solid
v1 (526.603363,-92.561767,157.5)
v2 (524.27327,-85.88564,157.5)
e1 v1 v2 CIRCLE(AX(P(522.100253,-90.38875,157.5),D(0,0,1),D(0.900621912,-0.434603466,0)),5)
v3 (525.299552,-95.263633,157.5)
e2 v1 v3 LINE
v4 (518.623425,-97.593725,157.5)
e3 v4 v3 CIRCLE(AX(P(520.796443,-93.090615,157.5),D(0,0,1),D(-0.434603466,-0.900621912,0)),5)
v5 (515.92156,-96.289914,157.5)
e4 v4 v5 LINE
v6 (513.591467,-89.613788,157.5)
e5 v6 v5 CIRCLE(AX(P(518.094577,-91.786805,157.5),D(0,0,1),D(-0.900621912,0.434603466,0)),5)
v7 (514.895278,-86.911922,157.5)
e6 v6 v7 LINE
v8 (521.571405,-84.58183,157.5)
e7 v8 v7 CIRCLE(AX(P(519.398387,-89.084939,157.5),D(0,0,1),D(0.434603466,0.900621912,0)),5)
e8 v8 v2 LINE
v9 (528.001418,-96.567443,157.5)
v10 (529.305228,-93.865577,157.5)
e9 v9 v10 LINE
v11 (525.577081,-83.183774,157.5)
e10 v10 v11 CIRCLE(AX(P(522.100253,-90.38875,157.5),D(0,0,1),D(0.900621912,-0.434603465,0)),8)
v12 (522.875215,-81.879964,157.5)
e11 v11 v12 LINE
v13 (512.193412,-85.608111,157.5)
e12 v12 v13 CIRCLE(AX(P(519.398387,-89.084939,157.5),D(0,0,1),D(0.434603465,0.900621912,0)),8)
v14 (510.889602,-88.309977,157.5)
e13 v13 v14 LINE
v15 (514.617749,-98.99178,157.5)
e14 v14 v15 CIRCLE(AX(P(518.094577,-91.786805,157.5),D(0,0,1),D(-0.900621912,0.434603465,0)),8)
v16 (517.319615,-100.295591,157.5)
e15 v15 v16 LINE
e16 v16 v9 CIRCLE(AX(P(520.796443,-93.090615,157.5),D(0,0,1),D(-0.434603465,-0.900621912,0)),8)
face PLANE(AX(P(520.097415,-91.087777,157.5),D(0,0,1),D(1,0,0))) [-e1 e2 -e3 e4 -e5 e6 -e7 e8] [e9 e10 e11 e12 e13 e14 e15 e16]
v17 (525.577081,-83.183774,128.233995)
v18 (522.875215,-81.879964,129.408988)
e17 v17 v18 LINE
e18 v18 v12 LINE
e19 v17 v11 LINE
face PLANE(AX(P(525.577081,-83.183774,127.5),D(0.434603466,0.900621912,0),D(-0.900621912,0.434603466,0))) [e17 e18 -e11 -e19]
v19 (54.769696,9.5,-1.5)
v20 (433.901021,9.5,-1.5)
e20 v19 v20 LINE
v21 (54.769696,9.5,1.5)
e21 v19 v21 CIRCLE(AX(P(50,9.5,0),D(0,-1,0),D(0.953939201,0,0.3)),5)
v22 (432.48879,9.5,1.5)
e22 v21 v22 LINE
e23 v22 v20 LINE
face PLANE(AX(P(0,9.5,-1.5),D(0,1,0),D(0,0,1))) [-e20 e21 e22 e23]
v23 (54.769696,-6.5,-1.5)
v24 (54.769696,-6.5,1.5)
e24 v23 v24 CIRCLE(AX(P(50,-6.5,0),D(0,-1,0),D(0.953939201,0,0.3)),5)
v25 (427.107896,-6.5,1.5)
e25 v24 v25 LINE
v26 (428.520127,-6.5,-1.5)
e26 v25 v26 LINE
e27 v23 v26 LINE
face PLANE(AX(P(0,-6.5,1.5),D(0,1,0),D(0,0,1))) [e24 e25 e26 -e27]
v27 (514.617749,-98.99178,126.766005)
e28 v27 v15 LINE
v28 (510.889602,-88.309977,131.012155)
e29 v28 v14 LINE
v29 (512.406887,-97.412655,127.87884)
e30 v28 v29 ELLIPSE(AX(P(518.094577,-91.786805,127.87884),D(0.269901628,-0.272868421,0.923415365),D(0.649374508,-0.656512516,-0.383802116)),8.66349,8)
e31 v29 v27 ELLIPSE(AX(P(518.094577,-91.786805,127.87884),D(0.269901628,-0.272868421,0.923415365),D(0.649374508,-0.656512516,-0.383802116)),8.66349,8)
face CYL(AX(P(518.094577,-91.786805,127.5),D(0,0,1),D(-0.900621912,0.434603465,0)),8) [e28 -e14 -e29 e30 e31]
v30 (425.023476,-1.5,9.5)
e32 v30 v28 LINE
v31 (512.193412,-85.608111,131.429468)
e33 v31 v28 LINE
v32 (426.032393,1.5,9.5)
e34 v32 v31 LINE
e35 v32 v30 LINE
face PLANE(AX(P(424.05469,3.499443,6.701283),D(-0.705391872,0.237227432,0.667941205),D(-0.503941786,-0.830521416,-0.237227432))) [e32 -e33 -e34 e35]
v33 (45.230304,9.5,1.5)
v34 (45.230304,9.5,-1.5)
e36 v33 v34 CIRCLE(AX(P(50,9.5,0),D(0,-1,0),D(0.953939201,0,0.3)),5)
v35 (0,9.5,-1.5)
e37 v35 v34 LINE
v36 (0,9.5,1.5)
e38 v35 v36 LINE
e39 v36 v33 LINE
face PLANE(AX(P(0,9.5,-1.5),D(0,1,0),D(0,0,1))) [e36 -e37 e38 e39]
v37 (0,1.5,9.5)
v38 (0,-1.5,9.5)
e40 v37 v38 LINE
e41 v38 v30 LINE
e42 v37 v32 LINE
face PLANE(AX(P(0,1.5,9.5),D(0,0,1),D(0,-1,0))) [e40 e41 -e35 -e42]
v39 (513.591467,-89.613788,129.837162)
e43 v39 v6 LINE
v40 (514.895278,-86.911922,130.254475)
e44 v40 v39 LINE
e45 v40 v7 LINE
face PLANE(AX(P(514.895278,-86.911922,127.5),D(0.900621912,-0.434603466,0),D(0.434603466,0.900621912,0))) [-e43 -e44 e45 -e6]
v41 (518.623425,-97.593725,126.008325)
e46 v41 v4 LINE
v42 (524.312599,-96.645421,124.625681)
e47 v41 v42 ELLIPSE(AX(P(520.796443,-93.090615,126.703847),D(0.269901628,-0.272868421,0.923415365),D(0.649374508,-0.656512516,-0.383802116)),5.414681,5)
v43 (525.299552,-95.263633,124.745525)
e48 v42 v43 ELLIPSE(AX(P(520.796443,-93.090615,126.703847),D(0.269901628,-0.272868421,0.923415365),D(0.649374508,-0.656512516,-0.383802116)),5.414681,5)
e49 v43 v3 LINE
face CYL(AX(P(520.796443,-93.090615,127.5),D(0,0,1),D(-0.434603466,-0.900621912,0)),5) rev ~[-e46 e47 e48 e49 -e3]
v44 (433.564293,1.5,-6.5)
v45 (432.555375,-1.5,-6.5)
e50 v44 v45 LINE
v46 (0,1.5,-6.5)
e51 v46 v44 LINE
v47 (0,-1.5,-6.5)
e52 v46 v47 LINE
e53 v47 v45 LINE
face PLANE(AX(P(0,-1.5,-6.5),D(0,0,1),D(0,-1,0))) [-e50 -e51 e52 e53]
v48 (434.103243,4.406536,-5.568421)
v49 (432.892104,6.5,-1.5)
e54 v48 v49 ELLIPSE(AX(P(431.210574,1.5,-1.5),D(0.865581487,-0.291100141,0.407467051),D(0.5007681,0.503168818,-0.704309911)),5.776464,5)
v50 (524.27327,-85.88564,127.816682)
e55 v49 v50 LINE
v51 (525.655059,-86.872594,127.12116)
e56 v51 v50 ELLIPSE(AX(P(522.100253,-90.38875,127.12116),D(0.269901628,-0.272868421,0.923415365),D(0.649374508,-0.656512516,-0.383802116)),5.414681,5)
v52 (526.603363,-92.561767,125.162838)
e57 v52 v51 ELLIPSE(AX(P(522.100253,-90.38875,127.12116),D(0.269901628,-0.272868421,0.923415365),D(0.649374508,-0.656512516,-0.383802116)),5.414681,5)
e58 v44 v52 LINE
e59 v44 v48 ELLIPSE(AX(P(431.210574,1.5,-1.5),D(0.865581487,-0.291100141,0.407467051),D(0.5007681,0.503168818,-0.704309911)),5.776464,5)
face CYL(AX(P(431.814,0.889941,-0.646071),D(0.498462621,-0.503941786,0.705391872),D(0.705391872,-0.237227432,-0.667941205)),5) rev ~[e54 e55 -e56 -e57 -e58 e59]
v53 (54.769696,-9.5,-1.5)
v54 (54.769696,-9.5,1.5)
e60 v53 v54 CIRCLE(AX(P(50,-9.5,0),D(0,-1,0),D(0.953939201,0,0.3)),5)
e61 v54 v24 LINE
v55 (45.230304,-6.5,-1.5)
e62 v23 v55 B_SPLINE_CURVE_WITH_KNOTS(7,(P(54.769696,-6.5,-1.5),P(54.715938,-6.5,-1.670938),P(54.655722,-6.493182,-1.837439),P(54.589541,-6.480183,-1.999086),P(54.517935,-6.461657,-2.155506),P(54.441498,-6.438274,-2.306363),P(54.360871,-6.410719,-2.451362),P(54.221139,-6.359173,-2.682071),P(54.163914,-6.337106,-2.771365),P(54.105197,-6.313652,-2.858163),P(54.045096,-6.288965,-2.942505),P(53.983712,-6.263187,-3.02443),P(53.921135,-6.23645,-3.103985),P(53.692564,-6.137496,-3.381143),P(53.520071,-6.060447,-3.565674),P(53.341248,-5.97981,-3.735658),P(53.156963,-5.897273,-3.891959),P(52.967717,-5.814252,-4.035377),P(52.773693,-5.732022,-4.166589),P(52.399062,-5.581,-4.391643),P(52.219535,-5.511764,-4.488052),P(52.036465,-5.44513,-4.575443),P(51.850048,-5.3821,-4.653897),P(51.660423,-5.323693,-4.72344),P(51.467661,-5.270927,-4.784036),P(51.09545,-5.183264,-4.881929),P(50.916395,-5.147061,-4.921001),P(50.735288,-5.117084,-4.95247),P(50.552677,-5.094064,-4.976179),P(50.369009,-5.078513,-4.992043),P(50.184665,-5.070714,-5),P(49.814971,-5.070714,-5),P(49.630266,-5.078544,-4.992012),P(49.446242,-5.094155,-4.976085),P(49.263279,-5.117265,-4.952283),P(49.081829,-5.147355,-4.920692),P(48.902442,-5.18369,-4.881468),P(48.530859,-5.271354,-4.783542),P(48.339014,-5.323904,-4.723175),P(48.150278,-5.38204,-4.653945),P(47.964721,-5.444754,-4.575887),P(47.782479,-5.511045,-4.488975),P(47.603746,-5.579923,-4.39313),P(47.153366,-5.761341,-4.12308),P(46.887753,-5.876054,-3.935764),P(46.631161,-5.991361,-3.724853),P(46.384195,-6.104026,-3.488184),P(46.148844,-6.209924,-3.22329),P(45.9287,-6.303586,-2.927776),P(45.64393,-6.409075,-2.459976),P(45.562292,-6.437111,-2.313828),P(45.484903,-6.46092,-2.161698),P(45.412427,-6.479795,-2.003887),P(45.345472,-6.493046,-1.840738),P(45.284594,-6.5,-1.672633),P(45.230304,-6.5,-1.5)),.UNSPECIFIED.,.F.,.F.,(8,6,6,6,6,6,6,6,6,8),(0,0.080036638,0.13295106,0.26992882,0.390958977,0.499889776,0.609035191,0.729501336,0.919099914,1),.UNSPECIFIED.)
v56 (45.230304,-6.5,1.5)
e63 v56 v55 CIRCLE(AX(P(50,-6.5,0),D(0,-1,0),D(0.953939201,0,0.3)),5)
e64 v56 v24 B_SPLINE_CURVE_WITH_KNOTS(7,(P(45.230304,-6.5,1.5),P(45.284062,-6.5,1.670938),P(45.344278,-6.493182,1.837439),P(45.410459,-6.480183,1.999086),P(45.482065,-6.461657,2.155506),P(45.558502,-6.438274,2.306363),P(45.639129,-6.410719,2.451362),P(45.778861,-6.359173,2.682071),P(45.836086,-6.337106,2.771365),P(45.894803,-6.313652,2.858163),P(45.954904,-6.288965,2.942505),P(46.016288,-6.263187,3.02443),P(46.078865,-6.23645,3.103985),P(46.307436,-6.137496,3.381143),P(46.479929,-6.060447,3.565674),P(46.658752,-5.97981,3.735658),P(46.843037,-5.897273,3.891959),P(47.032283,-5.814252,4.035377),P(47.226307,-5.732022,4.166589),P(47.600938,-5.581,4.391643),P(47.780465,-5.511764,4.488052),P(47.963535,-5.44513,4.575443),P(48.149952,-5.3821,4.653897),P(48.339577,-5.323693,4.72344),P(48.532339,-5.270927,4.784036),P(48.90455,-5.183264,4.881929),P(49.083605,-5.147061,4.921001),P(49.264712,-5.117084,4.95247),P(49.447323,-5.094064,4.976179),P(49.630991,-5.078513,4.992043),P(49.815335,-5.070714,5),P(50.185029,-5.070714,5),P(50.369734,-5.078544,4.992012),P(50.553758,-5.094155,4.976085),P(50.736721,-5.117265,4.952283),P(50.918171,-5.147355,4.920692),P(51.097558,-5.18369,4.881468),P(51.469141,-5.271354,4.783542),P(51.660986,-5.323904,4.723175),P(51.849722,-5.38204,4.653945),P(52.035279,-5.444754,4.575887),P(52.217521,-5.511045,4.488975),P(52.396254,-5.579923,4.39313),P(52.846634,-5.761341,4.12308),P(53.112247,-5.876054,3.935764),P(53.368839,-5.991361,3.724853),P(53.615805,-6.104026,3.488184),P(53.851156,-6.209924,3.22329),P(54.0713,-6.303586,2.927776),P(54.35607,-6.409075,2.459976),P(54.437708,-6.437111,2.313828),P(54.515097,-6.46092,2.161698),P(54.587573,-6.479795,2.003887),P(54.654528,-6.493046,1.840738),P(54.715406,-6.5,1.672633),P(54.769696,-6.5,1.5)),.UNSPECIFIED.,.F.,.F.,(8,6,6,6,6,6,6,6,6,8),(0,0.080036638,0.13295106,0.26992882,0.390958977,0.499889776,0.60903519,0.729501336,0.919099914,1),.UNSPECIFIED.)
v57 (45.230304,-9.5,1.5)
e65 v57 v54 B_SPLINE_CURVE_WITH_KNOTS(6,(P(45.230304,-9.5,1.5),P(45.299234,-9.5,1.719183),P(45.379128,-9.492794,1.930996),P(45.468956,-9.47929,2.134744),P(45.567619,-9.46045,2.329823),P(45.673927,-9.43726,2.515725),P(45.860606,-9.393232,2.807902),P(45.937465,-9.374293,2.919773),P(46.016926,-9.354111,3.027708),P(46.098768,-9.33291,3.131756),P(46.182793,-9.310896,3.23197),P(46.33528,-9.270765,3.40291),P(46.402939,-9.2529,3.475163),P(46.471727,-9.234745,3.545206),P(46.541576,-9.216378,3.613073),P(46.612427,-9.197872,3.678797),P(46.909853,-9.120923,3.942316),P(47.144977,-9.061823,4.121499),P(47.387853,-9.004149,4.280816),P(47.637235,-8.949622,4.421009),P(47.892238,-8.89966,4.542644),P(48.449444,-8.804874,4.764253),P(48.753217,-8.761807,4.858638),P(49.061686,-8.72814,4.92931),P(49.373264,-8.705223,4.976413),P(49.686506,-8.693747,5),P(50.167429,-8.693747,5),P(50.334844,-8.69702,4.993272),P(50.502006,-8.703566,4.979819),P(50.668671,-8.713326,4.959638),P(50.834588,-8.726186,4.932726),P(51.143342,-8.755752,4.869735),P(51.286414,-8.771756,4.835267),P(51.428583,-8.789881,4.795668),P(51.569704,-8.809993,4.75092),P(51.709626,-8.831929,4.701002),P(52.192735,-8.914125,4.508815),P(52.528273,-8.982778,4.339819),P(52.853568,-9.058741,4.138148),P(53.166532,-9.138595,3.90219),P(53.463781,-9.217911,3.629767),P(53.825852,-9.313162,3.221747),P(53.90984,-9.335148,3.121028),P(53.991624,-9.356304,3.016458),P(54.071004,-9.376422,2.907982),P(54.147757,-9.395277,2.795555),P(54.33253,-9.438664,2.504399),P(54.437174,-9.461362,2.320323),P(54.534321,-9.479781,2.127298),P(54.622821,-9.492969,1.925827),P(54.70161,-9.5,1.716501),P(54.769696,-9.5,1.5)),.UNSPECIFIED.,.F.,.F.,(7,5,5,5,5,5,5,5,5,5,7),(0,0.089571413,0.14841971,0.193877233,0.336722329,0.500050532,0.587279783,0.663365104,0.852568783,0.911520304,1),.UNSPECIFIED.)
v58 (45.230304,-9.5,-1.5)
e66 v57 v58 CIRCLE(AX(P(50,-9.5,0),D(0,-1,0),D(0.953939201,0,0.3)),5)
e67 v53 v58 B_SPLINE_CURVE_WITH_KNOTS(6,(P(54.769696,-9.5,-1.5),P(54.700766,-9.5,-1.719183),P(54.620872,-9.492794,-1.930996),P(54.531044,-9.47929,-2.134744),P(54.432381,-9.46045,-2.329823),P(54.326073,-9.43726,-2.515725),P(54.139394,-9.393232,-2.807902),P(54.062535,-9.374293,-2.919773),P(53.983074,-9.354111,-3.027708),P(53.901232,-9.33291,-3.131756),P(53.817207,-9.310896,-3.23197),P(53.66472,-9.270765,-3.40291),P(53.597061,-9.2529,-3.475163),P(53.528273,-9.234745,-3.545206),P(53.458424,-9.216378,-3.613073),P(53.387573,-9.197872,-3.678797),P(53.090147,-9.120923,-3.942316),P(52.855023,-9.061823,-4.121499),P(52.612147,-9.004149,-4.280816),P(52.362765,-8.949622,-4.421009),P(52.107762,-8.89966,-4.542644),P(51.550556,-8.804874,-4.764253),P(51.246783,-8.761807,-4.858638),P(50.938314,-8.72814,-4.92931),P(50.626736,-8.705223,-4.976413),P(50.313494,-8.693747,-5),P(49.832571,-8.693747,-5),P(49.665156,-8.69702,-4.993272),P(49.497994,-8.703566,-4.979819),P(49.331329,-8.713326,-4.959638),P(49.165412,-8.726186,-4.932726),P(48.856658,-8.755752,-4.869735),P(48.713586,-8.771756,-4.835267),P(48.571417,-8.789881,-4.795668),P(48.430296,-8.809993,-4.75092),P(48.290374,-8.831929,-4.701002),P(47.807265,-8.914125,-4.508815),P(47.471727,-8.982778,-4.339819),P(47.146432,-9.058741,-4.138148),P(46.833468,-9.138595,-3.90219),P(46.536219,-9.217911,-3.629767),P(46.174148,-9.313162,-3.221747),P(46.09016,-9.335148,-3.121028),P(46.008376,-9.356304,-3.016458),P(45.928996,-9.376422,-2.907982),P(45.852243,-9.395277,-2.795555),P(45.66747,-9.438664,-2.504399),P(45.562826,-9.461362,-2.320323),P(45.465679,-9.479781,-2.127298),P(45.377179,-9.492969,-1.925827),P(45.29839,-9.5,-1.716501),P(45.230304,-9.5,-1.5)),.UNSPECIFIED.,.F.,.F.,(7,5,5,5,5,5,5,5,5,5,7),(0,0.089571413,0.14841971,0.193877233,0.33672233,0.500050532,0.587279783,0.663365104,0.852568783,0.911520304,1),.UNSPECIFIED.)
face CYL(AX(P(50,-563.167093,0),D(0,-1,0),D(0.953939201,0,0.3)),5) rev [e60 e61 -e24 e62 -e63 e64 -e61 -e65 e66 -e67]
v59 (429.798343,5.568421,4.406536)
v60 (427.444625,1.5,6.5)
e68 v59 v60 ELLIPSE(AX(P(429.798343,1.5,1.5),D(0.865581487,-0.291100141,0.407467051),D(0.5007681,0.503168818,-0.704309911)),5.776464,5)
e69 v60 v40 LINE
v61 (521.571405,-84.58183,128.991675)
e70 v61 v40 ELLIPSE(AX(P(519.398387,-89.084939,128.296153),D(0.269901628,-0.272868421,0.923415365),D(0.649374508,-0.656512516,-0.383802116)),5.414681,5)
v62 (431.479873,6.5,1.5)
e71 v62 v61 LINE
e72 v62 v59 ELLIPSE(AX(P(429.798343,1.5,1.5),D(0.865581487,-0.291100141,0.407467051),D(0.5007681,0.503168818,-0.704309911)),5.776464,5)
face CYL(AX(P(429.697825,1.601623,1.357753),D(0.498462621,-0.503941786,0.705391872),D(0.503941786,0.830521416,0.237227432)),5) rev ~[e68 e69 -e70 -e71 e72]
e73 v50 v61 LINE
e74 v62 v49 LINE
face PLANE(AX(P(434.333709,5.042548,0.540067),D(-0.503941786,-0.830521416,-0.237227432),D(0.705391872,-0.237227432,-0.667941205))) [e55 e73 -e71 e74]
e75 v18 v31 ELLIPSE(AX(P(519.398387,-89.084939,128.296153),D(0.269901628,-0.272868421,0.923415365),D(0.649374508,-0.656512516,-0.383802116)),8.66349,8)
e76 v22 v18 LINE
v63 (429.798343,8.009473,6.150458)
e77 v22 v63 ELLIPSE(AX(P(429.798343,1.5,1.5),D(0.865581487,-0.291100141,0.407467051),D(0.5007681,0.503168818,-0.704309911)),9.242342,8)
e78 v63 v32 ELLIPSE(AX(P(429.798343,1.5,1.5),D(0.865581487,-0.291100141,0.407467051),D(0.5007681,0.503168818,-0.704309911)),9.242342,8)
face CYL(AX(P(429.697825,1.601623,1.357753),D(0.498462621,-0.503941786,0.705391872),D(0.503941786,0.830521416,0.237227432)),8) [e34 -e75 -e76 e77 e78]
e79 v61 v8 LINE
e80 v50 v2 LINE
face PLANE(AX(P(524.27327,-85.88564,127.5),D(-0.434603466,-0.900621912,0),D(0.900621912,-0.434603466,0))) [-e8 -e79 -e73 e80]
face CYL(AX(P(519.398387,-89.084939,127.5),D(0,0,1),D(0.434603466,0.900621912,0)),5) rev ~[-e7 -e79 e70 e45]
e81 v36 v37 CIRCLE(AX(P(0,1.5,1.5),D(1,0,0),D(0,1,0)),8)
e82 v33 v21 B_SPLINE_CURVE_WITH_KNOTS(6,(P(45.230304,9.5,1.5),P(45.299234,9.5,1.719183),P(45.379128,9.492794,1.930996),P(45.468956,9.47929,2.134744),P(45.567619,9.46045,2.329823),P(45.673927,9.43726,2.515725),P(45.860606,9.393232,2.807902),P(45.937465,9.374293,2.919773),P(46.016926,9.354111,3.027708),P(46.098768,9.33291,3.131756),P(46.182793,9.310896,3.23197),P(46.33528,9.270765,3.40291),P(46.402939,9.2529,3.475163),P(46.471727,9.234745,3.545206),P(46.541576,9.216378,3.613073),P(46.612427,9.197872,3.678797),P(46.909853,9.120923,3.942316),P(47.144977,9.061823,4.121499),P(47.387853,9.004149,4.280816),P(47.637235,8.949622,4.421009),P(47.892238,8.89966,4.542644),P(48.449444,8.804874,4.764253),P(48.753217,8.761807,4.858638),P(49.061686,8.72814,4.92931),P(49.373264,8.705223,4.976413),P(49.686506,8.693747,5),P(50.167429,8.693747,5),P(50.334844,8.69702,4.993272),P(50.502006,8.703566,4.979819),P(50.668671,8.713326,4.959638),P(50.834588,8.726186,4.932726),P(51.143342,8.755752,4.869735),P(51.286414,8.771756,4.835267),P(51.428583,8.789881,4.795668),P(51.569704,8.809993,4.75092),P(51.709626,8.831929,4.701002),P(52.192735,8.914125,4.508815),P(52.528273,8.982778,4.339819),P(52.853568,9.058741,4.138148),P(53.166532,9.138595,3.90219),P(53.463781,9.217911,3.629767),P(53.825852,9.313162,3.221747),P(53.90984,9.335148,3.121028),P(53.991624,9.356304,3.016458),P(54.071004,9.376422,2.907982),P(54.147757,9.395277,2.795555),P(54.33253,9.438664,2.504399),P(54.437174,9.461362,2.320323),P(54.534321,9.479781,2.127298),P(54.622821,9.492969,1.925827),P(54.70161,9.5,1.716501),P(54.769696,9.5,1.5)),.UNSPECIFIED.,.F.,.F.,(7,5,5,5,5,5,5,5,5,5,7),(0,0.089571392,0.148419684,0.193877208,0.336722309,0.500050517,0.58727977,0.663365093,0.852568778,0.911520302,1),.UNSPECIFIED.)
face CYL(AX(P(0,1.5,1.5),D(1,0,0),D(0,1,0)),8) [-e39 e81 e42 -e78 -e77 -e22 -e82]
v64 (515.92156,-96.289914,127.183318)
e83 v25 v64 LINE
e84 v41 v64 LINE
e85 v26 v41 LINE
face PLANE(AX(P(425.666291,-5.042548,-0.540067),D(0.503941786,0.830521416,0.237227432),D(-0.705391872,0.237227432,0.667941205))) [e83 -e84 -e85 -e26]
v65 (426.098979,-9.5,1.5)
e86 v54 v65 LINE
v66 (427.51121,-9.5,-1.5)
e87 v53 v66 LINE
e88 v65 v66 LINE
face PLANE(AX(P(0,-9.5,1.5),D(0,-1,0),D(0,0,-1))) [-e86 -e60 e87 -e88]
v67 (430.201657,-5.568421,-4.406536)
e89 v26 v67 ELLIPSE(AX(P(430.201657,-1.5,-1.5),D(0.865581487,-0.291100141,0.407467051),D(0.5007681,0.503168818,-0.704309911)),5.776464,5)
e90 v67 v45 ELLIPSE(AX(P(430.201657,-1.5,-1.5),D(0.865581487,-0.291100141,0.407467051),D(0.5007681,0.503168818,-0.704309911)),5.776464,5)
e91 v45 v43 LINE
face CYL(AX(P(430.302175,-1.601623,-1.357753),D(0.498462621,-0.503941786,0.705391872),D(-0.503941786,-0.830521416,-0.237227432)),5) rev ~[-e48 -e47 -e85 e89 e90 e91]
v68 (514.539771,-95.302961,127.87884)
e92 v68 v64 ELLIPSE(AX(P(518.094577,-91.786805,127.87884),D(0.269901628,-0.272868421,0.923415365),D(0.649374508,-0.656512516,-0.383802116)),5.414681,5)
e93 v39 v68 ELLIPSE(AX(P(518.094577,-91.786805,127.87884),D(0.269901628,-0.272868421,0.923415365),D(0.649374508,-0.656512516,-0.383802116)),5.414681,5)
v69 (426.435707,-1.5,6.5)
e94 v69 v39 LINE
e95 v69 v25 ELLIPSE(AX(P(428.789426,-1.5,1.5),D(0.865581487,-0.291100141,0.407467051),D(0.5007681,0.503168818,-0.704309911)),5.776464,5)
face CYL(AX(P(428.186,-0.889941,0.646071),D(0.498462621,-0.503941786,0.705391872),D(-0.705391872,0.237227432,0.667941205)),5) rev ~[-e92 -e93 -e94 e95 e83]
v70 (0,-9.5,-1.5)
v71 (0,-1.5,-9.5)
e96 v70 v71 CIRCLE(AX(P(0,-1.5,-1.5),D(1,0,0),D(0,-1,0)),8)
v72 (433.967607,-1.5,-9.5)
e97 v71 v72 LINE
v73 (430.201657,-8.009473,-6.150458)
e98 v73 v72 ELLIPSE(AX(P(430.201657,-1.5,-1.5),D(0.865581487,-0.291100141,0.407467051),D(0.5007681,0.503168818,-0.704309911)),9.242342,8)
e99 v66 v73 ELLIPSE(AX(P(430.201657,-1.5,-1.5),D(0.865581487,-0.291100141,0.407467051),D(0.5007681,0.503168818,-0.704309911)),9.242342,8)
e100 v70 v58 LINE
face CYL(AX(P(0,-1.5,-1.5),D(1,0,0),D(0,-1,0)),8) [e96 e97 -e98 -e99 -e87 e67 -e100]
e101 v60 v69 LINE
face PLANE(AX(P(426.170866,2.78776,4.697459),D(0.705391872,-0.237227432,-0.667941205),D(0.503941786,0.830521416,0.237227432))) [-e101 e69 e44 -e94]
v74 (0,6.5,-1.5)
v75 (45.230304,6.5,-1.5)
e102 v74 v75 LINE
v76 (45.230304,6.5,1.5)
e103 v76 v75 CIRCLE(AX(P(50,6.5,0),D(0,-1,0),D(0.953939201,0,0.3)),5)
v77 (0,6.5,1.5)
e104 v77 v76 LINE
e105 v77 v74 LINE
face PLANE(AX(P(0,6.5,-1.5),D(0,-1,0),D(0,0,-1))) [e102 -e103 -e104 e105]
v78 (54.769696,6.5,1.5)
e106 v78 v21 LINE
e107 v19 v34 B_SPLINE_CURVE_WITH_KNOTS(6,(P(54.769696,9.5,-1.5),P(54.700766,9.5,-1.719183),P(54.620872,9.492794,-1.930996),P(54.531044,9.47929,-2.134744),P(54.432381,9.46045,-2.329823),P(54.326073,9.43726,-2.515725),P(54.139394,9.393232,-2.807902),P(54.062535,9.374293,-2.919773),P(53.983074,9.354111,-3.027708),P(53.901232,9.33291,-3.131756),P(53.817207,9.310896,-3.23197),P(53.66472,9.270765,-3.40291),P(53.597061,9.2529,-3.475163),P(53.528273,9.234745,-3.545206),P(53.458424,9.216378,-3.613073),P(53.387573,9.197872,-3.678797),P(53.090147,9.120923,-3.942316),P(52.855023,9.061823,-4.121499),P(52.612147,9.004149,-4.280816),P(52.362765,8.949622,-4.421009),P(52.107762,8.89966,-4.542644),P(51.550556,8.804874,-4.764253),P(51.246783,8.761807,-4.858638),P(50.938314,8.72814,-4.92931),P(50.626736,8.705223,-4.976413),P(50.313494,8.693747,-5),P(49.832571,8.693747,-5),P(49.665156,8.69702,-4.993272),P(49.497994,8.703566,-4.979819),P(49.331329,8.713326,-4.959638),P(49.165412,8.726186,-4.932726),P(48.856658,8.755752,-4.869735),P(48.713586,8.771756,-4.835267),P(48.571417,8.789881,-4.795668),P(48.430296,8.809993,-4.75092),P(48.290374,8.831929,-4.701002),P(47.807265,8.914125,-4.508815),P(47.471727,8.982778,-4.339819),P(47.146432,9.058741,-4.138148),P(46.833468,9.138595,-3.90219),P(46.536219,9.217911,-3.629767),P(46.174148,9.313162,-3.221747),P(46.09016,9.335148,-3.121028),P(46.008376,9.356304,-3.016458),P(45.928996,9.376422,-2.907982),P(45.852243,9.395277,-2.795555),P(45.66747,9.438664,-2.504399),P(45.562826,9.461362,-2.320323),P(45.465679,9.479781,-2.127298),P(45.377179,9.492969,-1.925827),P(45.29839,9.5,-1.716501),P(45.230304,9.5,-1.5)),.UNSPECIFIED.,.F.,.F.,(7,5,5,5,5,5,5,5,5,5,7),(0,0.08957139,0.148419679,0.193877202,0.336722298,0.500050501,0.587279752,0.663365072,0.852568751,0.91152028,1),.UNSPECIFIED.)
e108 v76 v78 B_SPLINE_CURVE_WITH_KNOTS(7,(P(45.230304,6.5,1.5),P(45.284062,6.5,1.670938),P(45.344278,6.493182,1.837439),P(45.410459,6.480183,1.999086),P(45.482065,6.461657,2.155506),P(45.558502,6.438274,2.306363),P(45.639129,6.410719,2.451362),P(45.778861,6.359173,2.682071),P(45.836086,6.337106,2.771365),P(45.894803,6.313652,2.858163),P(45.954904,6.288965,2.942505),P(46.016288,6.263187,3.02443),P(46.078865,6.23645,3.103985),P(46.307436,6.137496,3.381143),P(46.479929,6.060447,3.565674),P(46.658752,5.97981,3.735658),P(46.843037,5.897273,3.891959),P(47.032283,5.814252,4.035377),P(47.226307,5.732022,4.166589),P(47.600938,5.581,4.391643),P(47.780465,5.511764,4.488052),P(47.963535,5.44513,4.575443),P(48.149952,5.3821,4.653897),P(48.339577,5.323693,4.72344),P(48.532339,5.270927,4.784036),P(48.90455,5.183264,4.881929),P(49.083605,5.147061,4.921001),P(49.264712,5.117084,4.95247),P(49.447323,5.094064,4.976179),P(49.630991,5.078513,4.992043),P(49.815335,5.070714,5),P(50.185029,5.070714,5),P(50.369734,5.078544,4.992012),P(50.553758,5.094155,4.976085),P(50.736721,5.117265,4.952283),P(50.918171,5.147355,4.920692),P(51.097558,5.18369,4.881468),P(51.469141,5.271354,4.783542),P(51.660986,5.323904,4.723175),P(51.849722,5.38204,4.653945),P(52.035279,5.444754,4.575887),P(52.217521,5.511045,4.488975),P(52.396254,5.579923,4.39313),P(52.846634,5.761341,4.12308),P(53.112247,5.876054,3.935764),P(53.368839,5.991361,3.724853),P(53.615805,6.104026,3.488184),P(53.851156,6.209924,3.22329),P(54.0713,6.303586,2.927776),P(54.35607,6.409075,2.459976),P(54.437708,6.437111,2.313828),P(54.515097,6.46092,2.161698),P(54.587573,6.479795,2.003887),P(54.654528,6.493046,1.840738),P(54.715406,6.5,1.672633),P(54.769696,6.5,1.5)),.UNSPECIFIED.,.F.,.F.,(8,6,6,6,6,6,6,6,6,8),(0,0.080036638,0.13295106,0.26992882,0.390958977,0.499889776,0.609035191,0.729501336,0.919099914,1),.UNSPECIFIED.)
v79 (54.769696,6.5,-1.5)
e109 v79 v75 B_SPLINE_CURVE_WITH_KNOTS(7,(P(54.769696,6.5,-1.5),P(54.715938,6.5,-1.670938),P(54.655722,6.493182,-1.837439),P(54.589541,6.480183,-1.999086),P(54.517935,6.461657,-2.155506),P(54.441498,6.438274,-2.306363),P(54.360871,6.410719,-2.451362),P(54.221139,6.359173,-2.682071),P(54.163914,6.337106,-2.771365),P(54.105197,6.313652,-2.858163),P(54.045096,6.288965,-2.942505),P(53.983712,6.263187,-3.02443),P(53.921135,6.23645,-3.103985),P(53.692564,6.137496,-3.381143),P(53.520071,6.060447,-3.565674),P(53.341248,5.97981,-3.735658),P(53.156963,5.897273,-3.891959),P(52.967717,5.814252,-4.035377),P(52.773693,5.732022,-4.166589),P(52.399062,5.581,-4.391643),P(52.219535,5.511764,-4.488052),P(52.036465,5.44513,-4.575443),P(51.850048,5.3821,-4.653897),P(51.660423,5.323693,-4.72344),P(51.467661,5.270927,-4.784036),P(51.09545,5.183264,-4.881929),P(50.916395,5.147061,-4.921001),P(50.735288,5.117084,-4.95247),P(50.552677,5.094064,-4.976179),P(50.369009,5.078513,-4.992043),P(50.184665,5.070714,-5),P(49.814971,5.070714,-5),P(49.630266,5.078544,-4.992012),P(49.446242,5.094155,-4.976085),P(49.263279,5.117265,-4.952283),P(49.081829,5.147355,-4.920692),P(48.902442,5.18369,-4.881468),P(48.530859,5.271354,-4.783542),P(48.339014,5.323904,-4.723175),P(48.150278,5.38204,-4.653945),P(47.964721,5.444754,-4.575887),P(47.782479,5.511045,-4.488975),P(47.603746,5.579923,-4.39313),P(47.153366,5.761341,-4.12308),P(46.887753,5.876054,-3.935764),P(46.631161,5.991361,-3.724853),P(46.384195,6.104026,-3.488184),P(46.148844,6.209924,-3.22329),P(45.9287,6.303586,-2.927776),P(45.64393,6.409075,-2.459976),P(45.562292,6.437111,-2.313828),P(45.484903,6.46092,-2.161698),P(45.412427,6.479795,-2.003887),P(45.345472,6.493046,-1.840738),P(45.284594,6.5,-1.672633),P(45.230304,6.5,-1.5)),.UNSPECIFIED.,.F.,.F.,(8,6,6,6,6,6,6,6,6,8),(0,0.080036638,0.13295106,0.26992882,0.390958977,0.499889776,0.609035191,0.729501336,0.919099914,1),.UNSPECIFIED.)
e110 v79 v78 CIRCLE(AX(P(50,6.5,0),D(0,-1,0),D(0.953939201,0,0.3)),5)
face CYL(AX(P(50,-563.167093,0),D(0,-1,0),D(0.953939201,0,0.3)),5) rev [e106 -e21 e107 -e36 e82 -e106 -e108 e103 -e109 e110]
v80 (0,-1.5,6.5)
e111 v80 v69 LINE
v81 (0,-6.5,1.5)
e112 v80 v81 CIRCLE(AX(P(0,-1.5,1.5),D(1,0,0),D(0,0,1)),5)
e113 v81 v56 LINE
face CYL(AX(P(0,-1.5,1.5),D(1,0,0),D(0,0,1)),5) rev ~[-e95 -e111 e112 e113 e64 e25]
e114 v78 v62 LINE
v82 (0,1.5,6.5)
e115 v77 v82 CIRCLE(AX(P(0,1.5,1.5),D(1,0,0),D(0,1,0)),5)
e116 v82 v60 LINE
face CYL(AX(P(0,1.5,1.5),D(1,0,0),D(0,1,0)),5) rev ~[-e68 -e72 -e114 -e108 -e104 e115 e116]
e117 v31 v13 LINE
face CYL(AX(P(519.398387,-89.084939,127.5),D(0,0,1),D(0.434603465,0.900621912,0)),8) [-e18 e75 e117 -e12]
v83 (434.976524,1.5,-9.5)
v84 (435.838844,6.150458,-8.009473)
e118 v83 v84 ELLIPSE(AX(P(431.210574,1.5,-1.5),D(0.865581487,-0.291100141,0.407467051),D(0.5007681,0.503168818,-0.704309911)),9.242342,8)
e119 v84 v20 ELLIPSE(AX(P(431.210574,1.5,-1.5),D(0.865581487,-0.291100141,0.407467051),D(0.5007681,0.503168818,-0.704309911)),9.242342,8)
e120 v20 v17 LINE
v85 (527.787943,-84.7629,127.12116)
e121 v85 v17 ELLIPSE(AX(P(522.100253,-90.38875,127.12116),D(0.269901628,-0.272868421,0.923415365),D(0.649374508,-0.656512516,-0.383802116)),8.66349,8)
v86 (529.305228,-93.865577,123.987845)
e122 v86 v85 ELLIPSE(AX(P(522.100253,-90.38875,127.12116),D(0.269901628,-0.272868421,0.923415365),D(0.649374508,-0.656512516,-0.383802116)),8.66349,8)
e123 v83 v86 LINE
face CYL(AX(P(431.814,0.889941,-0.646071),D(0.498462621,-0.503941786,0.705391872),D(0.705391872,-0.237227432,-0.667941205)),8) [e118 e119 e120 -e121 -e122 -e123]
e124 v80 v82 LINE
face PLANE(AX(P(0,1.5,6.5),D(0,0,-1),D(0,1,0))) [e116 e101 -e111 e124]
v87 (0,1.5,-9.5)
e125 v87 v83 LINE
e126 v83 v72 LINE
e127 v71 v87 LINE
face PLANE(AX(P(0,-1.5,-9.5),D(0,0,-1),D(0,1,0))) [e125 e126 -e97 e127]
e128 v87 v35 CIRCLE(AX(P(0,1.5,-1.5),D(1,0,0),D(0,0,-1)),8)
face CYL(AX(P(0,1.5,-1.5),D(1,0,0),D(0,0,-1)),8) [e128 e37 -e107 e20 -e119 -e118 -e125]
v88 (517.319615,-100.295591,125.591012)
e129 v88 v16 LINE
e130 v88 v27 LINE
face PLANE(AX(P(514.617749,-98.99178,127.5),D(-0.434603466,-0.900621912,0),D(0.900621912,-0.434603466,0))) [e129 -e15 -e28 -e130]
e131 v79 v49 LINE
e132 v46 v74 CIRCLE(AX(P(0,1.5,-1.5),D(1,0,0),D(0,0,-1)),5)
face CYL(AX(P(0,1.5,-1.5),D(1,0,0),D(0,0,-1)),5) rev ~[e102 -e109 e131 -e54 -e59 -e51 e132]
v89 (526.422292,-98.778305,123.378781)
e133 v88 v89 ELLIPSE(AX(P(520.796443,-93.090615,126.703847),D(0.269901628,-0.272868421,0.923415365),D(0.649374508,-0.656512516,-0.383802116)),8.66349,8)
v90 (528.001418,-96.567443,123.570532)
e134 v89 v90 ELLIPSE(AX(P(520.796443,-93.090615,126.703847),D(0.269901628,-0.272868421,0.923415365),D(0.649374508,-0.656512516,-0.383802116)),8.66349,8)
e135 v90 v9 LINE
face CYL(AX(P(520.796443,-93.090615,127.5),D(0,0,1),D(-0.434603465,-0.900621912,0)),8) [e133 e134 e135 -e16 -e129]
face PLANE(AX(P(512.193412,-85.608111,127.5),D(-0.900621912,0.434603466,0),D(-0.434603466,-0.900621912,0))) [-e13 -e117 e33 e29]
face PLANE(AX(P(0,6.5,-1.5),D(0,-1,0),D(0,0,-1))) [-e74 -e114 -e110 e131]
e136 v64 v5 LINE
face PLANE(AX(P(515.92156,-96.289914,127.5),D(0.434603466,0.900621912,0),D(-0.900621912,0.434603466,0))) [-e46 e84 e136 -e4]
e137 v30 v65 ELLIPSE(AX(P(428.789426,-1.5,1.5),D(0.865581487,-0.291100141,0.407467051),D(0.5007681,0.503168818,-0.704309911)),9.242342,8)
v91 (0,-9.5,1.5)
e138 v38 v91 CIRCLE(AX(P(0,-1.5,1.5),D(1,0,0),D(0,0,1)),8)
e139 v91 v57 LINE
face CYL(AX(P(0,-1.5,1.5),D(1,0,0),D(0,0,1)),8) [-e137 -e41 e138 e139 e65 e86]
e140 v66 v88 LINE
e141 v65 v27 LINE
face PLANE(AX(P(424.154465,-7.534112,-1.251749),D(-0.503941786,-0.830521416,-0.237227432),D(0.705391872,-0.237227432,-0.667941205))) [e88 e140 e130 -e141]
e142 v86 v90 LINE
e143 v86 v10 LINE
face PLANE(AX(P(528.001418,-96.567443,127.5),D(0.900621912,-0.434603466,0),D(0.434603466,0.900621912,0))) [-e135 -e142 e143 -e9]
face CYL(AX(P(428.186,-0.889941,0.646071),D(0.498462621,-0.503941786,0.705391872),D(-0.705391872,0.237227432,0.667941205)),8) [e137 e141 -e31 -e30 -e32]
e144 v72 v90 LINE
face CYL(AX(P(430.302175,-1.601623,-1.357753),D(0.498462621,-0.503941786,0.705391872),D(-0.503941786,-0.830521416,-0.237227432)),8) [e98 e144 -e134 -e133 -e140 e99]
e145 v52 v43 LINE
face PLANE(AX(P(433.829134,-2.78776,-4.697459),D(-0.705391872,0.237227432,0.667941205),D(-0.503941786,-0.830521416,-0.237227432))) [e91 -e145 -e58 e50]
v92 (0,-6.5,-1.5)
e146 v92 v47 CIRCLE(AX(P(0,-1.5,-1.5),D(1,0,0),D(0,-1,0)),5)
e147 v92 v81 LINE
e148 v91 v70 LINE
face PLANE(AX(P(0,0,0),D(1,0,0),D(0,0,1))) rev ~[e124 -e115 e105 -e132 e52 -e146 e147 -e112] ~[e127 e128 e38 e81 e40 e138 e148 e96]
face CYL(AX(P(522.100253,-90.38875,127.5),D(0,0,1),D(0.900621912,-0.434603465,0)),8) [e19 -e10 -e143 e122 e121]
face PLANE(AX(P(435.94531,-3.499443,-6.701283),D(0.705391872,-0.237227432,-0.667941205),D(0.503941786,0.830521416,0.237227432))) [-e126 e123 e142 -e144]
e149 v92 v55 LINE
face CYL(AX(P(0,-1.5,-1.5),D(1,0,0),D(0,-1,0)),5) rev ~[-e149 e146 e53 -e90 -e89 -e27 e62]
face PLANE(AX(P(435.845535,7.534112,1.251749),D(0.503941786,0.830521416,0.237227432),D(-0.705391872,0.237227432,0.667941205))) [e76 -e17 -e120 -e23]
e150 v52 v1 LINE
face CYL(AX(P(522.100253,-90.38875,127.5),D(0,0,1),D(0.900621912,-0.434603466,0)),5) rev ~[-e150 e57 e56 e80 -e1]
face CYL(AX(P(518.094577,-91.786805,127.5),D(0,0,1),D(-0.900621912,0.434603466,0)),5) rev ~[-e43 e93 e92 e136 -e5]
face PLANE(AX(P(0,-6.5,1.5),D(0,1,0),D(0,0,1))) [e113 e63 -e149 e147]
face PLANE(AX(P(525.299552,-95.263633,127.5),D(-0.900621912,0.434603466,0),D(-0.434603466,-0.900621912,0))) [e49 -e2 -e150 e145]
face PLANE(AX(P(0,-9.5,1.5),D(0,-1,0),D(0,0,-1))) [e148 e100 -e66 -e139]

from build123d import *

# Parameters (mm, degrees)
CUT_EXTRUDE3_DEPTH      = 563.167093213
CUT_EXTRUDE3_DEPTH_BACK = 563.167093213
SKETCH21_R              = 5


with BuildPart() as part:
    # Sweep-Thin3: sweep along a curve in space
    with BuildLine() as sweep_thin3_path:
        Line((0, 0, 0), (430, 0, 0))
        Line((430, 0, 0), (520.097414894, -91.087777242, 127.5))
        Line((520.097414894, -91.087777242, 127.5), (520.097414894, -91.087777242, 157.5))
    # Sketch2 → Sweep-Thin3 (sweep)
    with BuildSketch(Plane(origin=(0, 0, 0), x_dir=(0, 0, -1), z_dir=(1, 0, 0))):
        with BuildLine():
            Line((1.5, 9.5), (-1.5, 9.5))
            ThreePointArc((-1.5, 9.5), (-7.156854249, 7.156854249), (-9.5, 1.5))
            Line((-9.5, 1.5), (-9.5, -1.5))
            ThreePointArc((-9.5, -1.5), (-7.156854249, -7.156854249), (-1.5, -9.5))
            Line((-1.5, -9.5), (1.5, -9.5))
            ThreePointArc((1.5, -9.5), (7.156854249, -7.156854249), (9.5, -1.5))
            Line((9.5, -1.5), (9.5, 1.5))
            ThreePointArc((9.5, 1.5), (7.156854249, 7.156854249), (1.5, 9.5))
        make_face()
        with BuildLine():
            Line((1.5, 6.5), (-1.5, 6.5))
            ThreePointArc((-1.5, 6.5), (-5.035533906, 5.035533906), (-6.5, 1.5))
            Line((-6.5, 1.5), (-6.5, -1.5))
            ThreePointArc((-6.5, -1.5), (-5.035533906, -5.035533906), (-1.5, -6.5))
            Line((-1.5, -6.5), (1.5, -6.5))
            ThreePointArc((1.5, -6.5), (5.035533906, -5.035533906), (6.5, -1.5))
            Line((6.5, -1.5), (6.5, 1.5))
            ThreePointArc((6.5, 1.5), (5.035533906, 5.035533906), (1.5, 6.5))
        make_face(mode=Mode.SUBTRACT)
    sweep(path=sweep_thin3_path.line, transition=Transition.RIGHT)

    # Sketch21 → Cut-Extrude3 (cut, two sides: drawn at the far end of the back side and taken through both)
    with BuildSketch(Plane(origin=(0, 0, 0), x_dir=(1, 0, 0), z_dir=(0, 1, 0)).offset(-CUT_EXTRUDE3_DEPTH_BACK)):
        with Locations(Location((50, 0, 0), (0, 0, 342.542396876))):
            Circle(SKETCH21_R)
    extrude(amount=CUT_EXTRUDE3_DEPTH + CUT_EXTRUDE3_DEPTH_BACK, mode=Mode.SUBTRACT)


solid = part.part
